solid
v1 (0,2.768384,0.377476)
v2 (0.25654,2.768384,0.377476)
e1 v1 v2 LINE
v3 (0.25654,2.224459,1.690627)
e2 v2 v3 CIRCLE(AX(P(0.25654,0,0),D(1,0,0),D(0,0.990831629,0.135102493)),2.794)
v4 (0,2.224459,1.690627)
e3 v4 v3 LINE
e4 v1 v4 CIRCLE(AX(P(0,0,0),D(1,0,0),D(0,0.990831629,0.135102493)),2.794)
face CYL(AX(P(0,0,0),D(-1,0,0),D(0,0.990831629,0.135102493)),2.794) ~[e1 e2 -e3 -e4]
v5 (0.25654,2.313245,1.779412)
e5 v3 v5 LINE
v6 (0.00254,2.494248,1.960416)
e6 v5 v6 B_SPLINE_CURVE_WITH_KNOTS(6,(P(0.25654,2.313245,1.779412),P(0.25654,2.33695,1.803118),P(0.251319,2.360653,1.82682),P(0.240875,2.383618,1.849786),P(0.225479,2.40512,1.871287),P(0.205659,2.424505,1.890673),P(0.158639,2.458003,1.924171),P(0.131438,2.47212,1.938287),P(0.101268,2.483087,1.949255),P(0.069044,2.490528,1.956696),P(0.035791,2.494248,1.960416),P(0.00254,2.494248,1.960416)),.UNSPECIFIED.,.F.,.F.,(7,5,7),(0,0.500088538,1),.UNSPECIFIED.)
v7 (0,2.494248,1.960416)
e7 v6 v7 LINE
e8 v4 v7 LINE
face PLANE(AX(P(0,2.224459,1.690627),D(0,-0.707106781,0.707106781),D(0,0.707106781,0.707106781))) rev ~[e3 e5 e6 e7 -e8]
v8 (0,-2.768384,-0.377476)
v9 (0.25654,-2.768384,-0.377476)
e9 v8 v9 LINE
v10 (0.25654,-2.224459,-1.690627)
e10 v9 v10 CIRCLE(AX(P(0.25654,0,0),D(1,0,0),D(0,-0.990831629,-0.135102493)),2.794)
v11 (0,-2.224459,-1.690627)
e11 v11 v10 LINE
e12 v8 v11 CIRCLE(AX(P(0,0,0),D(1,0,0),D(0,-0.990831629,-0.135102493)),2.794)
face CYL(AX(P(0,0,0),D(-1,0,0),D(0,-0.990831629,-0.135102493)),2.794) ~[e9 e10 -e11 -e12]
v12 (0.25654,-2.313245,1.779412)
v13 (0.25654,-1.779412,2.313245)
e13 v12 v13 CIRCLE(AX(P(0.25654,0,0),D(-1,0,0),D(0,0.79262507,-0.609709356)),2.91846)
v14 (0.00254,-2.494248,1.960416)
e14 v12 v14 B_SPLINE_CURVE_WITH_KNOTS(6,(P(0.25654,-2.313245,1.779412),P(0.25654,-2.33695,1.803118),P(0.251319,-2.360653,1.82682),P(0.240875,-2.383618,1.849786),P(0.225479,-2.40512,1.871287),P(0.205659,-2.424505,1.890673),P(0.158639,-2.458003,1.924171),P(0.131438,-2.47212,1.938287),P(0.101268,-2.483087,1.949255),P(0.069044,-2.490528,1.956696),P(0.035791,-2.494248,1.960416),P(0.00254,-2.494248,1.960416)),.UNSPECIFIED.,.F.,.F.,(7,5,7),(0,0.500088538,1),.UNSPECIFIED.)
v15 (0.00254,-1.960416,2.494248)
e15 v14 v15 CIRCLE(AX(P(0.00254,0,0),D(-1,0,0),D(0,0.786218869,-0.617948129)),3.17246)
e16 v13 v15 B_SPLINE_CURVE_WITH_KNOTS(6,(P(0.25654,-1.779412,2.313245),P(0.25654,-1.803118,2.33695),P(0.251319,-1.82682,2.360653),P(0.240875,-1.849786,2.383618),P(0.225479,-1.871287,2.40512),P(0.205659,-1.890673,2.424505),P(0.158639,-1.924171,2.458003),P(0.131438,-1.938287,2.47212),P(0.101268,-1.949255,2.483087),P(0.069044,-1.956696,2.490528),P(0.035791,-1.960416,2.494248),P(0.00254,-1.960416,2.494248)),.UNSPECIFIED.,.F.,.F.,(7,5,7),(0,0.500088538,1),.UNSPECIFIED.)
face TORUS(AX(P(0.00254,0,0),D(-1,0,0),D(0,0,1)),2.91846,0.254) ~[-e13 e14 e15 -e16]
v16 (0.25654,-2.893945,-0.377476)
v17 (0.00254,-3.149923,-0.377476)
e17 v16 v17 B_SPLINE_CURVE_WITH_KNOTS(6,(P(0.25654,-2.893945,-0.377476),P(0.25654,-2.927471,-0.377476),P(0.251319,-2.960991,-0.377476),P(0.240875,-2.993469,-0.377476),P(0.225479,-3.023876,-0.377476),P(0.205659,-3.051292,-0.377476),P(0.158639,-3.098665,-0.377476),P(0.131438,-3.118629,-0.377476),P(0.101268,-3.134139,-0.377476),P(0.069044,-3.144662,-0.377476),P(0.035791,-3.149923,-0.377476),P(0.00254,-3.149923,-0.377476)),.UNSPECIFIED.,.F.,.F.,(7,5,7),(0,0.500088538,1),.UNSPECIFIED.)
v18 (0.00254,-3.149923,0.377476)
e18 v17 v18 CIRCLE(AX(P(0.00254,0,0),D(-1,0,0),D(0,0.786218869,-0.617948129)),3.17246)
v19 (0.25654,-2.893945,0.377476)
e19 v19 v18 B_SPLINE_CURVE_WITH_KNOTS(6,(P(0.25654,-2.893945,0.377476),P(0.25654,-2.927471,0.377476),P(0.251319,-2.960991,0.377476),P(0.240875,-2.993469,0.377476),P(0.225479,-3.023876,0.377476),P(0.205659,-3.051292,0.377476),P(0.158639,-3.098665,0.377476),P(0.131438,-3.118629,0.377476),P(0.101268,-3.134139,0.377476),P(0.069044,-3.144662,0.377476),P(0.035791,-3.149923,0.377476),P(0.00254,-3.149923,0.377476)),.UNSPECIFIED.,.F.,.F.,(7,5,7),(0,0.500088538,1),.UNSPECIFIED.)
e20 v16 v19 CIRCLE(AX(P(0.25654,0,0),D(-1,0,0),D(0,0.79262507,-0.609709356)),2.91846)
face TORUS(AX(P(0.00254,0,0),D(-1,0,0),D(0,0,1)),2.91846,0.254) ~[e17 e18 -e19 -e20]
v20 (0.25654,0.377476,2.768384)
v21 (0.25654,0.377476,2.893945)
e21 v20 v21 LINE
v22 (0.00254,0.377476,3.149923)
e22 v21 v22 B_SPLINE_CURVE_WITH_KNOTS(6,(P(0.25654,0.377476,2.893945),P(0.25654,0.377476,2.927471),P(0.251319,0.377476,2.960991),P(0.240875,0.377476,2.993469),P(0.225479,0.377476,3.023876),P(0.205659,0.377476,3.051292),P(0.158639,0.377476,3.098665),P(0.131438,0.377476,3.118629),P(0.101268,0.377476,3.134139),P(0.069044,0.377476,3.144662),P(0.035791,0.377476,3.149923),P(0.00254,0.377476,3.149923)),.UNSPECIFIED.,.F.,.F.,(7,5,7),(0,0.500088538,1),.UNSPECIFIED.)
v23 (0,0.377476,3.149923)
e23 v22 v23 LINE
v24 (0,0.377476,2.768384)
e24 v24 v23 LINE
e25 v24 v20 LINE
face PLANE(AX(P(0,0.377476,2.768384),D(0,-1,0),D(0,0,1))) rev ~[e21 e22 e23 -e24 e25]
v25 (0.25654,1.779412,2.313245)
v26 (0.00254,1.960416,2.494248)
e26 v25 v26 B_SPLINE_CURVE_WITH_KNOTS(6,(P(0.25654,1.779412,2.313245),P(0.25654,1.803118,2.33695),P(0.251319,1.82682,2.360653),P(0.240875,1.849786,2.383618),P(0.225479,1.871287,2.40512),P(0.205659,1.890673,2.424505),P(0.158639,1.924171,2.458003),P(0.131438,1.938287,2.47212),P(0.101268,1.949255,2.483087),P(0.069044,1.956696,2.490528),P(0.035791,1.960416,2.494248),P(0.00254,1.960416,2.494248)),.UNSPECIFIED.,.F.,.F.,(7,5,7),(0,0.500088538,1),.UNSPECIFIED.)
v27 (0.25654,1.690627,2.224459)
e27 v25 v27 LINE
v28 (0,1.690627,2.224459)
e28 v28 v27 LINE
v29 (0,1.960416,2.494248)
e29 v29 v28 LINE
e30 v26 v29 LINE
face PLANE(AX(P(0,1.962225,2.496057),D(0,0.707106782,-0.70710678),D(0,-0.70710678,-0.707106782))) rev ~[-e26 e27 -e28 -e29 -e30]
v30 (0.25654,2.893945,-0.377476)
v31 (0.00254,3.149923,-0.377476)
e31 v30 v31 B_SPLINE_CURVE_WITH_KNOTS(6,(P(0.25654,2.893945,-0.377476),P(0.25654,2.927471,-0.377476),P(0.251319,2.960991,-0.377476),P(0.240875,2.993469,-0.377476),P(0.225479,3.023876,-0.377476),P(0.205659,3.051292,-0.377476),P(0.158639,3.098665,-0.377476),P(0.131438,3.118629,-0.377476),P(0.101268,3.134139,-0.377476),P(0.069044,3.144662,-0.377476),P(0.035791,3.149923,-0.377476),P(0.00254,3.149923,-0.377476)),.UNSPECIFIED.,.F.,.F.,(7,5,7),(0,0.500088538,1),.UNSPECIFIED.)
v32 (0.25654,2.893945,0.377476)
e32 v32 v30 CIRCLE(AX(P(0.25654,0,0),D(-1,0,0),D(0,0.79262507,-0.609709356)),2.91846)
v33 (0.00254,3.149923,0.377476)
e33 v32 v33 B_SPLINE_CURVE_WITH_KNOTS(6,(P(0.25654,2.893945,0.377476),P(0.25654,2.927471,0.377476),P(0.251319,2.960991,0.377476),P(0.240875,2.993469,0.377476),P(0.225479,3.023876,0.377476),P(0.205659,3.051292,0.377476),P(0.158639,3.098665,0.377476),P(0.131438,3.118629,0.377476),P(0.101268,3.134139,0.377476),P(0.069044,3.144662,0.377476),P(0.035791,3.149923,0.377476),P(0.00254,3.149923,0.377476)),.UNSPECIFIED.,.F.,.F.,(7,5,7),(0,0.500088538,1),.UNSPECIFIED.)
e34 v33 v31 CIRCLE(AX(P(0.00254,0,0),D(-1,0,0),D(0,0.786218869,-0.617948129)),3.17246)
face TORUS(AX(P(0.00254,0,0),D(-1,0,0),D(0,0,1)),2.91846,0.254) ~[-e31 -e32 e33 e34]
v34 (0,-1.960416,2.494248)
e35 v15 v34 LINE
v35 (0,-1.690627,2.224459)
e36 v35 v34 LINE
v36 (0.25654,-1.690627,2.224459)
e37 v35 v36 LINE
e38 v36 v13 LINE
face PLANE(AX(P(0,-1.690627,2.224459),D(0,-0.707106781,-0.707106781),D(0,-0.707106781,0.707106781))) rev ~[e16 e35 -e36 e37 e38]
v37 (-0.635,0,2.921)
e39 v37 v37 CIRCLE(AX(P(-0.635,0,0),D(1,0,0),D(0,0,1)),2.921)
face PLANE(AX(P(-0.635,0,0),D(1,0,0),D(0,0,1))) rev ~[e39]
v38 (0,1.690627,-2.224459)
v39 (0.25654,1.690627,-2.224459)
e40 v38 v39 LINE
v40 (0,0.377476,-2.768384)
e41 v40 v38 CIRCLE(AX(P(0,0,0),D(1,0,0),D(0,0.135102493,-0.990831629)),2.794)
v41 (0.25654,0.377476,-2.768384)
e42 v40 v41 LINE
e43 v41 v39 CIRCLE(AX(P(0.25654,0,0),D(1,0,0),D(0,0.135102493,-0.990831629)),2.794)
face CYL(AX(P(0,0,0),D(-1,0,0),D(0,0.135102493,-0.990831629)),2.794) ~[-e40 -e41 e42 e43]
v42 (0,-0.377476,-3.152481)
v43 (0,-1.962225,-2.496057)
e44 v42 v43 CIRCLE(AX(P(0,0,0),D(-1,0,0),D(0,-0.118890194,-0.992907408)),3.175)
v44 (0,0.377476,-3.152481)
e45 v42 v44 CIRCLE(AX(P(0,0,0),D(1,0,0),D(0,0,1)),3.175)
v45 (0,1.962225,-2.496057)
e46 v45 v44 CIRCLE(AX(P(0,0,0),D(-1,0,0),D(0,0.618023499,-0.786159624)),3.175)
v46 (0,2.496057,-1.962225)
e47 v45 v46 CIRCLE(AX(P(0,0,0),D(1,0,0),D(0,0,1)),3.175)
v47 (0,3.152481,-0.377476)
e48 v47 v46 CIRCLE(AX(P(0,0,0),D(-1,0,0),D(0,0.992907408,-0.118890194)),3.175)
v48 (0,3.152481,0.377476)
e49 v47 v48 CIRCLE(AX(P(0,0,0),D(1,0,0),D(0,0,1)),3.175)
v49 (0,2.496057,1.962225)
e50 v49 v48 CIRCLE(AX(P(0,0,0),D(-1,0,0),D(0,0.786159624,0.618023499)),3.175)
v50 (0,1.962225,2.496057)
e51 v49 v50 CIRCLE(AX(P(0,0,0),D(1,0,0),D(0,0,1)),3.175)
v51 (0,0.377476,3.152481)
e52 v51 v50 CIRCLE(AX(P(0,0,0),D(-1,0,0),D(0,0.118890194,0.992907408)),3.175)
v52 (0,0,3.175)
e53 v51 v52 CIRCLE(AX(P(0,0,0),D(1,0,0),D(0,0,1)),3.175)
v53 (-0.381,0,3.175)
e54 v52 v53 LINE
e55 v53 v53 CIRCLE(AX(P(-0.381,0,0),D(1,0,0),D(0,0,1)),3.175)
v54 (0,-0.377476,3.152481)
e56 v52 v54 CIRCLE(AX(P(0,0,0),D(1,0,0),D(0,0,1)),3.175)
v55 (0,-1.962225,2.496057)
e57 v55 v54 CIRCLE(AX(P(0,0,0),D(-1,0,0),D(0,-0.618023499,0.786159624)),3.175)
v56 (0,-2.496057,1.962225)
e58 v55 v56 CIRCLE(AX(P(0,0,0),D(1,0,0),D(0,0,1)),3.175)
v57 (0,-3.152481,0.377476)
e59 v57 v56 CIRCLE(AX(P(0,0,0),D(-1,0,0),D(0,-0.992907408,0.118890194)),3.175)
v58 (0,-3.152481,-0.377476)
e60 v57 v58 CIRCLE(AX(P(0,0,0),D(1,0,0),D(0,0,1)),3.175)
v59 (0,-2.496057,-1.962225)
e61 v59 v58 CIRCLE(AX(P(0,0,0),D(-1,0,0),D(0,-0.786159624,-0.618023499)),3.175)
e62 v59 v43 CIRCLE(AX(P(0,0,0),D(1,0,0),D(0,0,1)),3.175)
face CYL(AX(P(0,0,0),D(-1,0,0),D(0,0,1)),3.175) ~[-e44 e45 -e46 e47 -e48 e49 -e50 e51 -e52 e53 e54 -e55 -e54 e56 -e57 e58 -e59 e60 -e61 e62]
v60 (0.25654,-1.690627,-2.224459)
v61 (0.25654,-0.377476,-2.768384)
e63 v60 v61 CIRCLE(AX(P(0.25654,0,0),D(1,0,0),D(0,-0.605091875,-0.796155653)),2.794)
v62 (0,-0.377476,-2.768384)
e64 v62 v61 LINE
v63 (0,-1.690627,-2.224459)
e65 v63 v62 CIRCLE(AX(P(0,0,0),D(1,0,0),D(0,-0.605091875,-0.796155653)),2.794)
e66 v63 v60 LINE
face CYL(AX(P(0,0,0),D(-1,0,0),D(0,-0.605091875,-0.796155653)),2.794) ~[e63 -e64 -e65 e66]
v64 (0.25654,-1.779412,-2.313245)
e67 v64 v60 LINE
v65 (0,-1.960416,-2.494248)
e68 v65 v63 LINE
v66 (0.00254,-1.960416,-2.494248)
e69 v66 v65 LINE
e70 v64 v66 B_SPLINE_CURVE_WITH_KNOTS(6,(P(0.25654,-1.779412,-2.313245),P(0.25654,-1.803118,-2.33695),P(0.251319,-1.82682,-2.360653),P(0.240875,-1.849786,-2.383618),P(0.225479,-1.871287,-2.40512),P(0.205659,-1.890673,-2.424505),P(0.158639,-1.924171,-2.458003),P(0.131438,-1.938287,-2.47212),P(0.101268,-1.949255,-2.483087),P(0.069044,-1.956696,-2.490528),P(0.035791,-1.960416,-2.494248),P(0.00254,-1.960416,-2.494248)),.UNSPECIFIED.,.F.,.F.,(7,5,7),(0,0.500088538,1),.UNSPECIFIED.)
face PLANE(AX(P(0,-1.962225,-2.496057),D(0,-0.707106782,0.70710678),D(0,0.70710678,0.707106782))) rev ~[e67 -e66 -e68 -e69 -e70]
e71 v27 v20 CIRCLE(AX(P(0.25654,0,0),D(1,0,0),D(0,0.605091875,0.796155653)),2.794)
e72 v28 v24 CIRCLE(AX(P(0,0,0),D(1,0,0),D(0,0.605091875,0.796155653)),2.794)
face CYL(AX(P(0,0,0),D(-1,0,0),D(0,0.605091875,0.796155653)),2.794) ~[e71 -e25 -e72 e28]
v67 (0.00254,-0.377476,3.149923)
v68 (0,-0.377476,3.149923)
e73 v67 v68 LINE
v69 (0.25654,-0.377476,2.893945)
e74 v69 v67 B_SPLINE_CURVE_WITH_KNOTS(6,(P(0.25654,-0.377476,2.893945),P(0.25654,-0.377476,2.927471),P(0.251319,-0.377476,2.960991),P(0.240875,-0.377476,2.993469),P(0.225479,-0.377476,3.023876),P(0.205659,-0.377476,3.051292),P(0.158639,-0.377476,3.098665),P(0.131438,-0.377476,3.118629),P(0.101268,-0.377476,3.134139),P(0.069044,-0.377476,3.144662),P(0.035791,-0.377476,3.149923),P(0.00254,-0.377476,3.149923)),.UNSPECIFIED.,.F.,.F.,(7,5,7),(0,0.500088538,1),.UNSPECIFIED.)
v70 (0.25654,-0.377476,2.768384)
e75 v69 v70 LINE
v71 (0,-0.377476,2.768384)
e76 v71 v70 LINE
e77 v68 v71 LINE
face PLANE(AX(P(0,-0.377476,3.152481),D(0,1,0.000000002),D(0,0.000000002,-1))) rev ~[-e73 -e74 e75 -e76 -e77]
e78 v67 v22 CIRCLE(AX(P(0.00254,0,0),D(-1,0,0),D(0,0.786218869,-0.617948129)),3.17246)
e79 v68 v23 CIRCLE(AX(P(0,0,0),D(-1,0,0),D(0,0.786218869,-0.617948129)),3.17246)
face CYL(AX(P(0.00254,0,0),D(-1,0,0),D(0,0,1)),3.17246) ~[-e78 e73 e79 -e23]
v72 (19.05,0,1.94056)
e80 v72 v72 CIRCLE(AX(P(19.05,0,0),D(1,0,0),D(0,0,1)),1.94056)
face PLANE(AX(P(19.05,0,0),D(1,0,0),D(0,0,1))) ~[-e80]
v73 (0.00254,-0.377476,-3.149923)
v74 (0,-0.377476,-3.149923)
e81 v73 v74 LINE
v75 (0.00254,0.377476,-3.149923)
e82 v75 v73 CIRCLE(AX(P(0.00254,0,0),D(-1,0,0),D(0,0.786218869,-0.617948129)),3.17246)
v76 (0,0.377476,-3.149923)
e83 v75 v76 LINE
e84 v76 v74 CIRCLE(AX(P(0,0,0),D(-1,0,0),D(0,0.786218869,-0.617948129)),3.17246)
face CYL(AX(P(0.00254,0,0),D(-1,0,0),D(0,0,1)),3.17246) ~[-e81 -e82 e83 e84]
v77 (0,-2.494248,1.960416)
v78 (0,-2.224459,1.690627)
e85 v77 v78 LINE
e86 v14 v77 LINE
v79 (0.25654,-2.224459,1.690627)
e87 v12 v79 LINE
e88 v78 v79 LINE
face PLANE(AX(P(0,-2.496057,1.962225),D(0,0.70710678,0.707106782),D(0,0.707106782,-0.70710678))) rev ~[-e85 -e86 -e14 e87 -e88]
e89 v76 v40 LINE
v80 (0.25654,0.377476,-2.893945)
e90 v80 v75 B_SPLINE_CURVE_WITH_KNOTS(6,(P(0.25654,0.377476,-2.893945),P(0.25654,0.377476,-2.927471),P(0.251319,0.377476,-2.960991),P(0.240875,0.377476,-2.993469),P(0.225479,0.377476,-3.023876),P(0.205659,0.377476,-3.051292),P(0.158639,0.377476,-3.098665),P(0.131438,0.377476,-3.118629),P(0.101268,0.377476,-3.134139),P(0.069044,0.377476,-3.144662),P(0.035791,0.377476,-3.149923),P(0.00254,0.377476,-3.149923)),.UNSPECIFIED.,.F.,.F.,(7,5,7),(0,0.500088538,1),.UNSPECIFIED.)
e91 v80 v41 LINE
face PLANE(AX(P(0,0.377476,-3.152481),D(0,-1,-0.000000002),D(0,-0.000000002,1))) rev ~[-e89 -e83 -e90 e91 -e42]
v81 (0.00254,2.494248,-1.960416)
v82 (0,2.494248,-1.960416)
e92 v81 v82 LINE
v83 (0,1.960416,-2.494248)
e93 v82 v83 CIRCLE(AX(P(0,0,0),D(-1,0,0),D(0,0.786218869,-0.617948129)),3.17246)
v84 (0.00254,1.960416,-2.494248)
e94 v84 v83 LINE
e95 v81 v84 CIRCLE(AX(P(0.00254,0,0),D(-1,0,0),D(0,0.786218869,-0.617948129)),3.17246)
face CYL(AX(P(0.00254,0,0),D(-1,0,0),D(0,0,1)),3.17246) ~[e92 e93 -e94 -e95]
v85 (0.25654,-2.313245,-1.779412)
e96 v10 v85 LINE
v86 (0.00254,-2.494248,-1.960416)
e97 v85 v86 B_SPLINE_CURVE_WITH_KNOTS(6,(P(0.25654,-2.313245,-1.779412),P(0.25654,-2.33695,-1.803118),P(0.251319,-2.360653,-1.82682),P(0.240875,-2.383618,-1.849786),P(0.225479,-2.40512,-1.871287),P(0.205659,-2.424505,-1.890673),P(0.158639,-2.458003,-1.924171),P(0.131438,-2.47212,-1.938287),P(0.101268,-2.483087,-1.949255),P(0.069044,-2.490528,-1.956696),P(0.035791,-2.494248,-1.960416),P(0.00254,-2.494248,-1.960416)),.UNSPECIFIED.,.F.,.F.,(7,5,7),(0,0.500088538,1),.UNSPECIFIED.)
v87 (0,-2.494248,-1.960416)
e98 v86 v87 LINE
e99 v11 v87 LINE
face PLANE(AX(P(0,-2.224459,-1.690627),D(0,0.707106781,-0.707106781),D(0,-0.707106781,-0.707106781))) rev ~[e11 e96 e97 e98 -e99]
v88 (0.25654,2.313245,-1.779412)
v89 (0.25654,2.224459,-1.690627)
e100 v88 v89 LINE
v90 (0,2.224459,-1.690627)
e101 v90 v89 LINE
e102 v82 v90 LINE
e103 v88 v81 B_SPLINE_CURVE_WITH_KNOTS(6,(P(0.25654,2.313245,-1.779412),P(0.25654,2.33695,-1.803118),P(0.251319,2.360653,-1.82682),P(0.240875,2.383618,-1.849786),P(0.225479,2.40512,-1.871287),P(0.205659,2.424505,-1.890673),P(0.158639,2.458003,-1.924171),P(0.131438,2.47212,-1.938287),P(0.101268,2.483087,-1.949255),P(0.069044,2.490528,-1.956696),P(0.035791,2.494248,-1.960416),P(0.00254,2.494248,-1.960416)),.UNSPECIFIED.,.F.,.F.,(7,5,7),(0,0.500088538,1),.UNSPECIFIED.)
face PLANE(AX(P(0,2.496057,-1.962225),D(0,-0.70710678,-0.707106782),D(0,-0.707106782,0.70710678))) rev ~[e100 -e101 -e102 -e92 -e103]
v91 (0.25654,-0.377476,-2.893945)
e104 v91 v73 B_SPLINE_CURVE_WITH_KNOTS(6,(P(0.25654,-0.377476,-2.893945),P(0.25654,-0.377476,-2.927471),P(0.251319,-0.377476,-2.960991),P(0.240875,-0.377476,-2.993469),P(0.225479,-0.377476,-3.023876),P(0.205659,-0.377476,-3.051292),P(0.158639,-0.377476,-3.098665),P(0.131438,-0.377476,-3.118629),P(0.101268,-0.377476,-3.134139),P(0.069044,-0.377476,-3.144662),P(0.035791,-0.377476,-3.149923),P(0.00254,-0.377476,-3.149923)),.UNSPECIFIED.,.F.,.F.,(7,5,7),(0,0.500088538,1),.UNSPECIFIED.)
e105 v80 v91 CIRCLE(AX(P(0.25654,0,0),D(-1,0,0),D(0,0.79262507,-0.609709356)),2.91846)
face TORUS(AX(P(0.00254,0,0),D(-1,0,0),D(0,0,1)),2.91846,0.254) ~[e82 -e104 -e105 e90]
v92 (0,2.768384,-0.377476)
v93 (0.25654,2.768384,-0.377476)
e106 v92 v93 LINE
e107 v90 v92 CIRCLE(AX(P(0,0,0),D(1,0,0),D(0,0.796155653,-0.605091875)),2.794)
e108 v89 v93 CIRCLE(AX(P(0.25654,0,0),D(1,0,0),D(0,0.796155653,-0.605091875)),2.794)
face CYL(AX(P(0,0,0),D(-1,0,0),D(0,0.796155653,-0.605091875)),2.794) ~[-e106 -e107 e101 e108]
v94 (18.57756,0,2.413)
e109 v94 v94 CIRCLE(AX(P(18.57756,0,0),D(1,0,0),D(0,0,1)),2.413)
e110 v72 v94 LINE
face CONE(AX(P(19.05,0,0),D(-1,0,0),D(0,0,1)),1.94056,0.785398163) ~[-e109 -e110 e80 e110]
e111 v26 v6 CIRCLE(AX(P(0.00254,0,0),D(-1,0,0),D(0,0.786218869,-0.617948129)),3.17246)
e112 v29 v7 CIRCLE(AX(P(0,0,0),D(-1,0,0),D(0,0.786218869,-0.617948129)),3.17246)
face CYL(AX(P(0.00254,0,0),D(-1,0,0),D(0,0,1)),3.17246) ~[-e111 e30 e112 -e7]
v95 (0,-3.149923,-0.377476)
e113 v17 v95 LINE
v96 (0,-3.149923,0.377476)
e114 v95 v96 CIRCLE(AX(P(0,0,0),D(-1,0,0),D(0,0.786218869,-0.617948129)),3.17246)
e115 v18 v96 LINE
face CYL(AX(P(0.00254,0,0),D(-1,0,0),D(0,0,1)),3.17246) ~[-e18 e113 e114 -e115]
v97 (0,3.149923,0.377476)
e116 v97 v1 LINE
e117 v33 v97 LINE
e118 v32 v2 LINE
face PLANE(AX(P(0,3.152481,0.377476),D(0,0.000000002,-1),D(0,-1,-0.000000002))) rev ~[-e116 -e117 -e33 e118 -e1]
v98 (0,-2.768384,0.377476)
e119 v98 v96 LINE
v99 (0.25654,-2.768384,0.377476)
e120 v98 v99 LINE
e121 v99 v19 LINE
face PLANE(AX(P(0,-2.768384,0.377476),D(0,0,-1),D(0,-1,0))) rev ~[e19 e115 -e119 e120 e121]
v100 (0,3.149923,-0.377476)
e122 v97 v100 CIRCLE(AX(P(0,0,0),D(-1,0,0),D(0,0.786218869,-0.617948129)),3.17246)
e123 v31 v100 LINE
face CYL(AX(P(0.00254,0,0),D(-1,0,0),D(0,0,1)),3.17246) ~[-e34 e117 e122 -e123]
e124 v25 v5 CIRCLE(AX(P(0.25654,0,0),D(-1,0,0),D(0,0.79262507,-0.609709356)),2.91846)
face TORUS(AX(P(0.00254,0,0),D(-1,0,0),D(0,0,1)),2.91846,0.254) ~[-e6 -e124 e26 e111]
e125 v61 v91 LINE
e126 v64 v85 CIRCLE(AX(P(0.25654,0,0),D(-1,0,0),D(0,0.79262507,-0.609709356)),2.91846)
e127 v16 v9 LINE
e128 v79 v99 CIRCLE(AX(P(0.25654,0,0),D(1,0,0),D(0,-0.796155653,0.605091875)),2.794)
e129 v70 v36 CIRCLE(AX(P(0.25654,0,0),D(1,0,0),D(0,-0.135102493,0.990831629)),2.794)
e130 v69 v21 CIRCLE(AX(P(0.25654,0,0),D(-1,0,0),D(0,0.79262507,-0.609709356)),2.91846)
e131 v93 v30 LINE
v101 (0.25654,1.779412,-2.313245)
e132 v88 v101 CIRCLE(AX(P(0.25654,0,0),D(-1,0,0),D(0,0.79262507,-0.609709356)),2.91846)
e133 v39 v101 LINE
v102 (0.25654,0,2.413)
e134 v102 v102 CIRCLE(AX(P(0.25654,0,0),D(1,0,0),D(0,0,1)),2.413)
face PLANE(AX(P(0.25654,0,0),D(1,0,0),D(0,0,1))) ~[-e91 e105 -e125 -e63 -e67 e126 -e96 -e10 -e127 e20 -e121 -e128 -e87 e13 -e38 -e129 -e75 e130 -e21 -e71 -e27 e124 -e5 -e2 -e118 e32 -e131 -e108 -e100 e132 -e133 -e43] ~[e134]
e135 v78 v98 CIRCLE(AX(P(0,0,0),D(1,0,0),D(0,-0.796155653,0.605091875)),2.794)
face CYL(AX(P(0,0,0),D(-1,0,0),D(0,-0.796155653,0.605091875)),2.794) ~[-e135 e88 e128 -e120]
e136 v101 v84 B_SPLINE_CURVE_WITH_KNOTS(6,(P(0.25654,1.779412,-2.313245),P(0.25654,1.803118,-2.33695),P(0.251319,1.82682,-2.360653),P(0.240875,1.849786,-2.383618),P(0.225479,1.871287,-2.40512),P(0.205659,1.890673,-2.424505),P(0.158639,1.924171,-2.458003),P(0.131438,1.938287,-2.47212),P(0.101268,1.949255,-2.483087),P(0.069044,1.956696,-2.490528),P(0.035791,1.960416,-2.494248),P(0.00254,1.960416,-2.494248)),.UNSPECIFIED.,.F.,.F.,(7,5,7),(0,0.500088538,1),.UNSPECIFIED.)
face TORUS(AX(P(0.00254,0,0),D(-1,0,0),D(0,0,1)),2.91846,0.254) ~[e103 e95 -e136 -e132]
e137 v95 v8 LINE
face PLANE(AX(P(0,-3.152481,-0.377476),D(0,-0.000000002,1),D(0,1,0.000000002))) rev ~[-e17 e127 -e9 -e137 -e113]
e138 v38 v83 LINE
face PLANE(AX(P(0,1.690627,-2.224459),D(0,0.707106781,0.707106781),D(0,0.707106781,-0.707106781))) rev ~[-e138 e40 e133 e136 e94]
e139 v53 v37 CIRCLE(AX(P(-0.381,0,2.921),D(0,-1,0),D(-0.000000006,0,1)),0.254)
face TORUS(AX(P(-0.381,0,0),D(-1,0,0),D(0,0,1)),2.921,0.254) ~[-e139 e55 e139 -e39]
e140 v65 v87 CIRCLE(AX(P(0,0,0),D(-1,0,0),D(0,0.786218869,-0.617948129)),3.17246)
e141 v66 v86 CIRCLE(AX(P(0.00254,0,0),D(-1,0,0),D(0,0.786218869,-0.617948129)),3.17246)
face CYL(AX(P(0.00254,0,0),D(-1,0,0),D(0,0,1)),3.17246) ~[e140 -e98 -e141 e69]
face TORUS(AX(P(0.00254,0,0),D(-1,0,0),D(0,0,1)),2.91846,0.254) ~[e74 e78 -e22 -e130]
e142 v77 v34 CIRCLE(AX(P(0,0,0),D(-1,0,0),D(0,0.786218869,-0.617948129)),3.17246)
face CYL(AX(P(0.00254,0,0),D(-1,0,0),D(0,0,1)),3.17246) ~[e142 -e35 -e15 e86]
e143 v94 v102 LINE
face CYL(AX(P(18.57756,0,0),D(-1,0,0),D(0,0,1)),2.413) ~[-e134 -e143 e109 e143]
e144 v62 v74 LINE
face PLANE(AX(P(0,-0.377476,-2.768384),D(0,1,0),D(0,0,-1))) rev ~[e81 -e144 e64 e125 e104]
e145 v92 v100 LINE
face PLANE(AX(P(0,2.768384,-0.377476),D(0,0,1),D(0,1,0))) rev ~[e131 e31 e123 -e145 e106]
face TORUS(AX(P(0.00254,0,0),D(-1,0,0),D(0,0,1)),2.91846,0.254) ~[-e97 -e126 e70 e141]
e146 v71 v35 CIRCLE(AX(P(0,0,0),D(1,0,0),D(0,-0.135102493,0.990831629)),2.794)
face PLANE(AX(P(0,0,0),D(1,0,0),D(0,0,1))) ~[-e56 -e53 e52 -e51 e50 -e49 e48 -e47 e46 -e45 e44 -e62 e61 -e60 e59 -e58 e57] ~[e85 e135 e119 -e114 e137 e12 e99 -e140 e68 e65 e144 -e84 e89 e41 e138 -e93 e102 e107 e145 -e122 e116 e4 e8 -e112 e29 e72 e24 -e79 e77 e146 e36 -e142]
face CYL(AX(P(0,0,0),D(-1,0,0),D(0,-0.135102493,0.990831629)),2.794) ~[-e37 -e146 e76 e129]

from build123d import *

# Parameters (mm, degrees)
RIBCUT_START     = -0.25654
RIBCUT_DEPTH     = 0.25654
RIBCUTSPAT_COUNT = 8
RIBCUTSPAT_ANGLE = 315


with BuildPart() as part:
    # BodySke → BaseBody (revolve)
    with BuildSketch(Plane.XY):
        with BuildLine():
            Line((-0.635, 2.921), (-0.635, 0))
            Line((-0.635, 0), (19.05, 0))
            Line((19.05, 0), (19.05, 1.94056))
            Line((19.05, 1.94056), (18.57756, 2.413))
            Line((18.57756, 2.413), (0.25654, 2.413))
            Line((0.25654, 2.413), (0.25654, 2.91846))
            ThreePointArc((0.25654, 2.91846), (0.182145122, 3.098065122), (0.00254, 3.17246))
            Line((0.00254, 3.17246), (0, 3.17246))
            Line((0, 3.17246), (0, 3.175))
            Line((0, 3.175), (-0.381, 3.175))
            ThreePointArc((-0.381, 3.175), (-0.560605122, 3.100605122), (-0.635, 2.921))
        make_face()
    revolve(axis=Axis((0, 0, 0), (1, 0, 0)))

    # RibCutSke → RibCut (cut)
    with BuildSketch(Plane(origin=(0.25654, 1.794401132, -0.090952894), x_dir=(0, 0, -1), z_dir=(1, 0, 0)).offset(RIBCUT_START)):
        with BuildLine():
            Line((0.28652347, 0.973982438), (0.28652347, 1.35807989))
            ThreePointArc((0.28652347, 1.35807989), (1.124067004, 1.138916383), (1.871271717, 0.701655673))
            Line((1.871271717, 0.701655673), (1.599673805, 0.43005776))
            ThreePointArc((1.599673805, 0.43005776), (0.978264616, 0.786918281), (0.28652347, 0.973982438))
        make_face()
    ribcut = extrude(amount=RIBCUT_DEPTH, mode=Mode.SUBTRACT)

    # RibCutsPat: RibCut ×8 about axis
    ribcutspat_axis = Axis((0, 0, 0), (1, 0, 0))
    for i in range(1, RIBCUTSPAT_COUNT):
        add(ribcut.rotate(ribcutspat_axis, i * RIBCUTSPAT_ANGLE / (RIBCUTSPAT_COUNT - 1)), mode=Mode.SUBTRACT)


solid = part.part
